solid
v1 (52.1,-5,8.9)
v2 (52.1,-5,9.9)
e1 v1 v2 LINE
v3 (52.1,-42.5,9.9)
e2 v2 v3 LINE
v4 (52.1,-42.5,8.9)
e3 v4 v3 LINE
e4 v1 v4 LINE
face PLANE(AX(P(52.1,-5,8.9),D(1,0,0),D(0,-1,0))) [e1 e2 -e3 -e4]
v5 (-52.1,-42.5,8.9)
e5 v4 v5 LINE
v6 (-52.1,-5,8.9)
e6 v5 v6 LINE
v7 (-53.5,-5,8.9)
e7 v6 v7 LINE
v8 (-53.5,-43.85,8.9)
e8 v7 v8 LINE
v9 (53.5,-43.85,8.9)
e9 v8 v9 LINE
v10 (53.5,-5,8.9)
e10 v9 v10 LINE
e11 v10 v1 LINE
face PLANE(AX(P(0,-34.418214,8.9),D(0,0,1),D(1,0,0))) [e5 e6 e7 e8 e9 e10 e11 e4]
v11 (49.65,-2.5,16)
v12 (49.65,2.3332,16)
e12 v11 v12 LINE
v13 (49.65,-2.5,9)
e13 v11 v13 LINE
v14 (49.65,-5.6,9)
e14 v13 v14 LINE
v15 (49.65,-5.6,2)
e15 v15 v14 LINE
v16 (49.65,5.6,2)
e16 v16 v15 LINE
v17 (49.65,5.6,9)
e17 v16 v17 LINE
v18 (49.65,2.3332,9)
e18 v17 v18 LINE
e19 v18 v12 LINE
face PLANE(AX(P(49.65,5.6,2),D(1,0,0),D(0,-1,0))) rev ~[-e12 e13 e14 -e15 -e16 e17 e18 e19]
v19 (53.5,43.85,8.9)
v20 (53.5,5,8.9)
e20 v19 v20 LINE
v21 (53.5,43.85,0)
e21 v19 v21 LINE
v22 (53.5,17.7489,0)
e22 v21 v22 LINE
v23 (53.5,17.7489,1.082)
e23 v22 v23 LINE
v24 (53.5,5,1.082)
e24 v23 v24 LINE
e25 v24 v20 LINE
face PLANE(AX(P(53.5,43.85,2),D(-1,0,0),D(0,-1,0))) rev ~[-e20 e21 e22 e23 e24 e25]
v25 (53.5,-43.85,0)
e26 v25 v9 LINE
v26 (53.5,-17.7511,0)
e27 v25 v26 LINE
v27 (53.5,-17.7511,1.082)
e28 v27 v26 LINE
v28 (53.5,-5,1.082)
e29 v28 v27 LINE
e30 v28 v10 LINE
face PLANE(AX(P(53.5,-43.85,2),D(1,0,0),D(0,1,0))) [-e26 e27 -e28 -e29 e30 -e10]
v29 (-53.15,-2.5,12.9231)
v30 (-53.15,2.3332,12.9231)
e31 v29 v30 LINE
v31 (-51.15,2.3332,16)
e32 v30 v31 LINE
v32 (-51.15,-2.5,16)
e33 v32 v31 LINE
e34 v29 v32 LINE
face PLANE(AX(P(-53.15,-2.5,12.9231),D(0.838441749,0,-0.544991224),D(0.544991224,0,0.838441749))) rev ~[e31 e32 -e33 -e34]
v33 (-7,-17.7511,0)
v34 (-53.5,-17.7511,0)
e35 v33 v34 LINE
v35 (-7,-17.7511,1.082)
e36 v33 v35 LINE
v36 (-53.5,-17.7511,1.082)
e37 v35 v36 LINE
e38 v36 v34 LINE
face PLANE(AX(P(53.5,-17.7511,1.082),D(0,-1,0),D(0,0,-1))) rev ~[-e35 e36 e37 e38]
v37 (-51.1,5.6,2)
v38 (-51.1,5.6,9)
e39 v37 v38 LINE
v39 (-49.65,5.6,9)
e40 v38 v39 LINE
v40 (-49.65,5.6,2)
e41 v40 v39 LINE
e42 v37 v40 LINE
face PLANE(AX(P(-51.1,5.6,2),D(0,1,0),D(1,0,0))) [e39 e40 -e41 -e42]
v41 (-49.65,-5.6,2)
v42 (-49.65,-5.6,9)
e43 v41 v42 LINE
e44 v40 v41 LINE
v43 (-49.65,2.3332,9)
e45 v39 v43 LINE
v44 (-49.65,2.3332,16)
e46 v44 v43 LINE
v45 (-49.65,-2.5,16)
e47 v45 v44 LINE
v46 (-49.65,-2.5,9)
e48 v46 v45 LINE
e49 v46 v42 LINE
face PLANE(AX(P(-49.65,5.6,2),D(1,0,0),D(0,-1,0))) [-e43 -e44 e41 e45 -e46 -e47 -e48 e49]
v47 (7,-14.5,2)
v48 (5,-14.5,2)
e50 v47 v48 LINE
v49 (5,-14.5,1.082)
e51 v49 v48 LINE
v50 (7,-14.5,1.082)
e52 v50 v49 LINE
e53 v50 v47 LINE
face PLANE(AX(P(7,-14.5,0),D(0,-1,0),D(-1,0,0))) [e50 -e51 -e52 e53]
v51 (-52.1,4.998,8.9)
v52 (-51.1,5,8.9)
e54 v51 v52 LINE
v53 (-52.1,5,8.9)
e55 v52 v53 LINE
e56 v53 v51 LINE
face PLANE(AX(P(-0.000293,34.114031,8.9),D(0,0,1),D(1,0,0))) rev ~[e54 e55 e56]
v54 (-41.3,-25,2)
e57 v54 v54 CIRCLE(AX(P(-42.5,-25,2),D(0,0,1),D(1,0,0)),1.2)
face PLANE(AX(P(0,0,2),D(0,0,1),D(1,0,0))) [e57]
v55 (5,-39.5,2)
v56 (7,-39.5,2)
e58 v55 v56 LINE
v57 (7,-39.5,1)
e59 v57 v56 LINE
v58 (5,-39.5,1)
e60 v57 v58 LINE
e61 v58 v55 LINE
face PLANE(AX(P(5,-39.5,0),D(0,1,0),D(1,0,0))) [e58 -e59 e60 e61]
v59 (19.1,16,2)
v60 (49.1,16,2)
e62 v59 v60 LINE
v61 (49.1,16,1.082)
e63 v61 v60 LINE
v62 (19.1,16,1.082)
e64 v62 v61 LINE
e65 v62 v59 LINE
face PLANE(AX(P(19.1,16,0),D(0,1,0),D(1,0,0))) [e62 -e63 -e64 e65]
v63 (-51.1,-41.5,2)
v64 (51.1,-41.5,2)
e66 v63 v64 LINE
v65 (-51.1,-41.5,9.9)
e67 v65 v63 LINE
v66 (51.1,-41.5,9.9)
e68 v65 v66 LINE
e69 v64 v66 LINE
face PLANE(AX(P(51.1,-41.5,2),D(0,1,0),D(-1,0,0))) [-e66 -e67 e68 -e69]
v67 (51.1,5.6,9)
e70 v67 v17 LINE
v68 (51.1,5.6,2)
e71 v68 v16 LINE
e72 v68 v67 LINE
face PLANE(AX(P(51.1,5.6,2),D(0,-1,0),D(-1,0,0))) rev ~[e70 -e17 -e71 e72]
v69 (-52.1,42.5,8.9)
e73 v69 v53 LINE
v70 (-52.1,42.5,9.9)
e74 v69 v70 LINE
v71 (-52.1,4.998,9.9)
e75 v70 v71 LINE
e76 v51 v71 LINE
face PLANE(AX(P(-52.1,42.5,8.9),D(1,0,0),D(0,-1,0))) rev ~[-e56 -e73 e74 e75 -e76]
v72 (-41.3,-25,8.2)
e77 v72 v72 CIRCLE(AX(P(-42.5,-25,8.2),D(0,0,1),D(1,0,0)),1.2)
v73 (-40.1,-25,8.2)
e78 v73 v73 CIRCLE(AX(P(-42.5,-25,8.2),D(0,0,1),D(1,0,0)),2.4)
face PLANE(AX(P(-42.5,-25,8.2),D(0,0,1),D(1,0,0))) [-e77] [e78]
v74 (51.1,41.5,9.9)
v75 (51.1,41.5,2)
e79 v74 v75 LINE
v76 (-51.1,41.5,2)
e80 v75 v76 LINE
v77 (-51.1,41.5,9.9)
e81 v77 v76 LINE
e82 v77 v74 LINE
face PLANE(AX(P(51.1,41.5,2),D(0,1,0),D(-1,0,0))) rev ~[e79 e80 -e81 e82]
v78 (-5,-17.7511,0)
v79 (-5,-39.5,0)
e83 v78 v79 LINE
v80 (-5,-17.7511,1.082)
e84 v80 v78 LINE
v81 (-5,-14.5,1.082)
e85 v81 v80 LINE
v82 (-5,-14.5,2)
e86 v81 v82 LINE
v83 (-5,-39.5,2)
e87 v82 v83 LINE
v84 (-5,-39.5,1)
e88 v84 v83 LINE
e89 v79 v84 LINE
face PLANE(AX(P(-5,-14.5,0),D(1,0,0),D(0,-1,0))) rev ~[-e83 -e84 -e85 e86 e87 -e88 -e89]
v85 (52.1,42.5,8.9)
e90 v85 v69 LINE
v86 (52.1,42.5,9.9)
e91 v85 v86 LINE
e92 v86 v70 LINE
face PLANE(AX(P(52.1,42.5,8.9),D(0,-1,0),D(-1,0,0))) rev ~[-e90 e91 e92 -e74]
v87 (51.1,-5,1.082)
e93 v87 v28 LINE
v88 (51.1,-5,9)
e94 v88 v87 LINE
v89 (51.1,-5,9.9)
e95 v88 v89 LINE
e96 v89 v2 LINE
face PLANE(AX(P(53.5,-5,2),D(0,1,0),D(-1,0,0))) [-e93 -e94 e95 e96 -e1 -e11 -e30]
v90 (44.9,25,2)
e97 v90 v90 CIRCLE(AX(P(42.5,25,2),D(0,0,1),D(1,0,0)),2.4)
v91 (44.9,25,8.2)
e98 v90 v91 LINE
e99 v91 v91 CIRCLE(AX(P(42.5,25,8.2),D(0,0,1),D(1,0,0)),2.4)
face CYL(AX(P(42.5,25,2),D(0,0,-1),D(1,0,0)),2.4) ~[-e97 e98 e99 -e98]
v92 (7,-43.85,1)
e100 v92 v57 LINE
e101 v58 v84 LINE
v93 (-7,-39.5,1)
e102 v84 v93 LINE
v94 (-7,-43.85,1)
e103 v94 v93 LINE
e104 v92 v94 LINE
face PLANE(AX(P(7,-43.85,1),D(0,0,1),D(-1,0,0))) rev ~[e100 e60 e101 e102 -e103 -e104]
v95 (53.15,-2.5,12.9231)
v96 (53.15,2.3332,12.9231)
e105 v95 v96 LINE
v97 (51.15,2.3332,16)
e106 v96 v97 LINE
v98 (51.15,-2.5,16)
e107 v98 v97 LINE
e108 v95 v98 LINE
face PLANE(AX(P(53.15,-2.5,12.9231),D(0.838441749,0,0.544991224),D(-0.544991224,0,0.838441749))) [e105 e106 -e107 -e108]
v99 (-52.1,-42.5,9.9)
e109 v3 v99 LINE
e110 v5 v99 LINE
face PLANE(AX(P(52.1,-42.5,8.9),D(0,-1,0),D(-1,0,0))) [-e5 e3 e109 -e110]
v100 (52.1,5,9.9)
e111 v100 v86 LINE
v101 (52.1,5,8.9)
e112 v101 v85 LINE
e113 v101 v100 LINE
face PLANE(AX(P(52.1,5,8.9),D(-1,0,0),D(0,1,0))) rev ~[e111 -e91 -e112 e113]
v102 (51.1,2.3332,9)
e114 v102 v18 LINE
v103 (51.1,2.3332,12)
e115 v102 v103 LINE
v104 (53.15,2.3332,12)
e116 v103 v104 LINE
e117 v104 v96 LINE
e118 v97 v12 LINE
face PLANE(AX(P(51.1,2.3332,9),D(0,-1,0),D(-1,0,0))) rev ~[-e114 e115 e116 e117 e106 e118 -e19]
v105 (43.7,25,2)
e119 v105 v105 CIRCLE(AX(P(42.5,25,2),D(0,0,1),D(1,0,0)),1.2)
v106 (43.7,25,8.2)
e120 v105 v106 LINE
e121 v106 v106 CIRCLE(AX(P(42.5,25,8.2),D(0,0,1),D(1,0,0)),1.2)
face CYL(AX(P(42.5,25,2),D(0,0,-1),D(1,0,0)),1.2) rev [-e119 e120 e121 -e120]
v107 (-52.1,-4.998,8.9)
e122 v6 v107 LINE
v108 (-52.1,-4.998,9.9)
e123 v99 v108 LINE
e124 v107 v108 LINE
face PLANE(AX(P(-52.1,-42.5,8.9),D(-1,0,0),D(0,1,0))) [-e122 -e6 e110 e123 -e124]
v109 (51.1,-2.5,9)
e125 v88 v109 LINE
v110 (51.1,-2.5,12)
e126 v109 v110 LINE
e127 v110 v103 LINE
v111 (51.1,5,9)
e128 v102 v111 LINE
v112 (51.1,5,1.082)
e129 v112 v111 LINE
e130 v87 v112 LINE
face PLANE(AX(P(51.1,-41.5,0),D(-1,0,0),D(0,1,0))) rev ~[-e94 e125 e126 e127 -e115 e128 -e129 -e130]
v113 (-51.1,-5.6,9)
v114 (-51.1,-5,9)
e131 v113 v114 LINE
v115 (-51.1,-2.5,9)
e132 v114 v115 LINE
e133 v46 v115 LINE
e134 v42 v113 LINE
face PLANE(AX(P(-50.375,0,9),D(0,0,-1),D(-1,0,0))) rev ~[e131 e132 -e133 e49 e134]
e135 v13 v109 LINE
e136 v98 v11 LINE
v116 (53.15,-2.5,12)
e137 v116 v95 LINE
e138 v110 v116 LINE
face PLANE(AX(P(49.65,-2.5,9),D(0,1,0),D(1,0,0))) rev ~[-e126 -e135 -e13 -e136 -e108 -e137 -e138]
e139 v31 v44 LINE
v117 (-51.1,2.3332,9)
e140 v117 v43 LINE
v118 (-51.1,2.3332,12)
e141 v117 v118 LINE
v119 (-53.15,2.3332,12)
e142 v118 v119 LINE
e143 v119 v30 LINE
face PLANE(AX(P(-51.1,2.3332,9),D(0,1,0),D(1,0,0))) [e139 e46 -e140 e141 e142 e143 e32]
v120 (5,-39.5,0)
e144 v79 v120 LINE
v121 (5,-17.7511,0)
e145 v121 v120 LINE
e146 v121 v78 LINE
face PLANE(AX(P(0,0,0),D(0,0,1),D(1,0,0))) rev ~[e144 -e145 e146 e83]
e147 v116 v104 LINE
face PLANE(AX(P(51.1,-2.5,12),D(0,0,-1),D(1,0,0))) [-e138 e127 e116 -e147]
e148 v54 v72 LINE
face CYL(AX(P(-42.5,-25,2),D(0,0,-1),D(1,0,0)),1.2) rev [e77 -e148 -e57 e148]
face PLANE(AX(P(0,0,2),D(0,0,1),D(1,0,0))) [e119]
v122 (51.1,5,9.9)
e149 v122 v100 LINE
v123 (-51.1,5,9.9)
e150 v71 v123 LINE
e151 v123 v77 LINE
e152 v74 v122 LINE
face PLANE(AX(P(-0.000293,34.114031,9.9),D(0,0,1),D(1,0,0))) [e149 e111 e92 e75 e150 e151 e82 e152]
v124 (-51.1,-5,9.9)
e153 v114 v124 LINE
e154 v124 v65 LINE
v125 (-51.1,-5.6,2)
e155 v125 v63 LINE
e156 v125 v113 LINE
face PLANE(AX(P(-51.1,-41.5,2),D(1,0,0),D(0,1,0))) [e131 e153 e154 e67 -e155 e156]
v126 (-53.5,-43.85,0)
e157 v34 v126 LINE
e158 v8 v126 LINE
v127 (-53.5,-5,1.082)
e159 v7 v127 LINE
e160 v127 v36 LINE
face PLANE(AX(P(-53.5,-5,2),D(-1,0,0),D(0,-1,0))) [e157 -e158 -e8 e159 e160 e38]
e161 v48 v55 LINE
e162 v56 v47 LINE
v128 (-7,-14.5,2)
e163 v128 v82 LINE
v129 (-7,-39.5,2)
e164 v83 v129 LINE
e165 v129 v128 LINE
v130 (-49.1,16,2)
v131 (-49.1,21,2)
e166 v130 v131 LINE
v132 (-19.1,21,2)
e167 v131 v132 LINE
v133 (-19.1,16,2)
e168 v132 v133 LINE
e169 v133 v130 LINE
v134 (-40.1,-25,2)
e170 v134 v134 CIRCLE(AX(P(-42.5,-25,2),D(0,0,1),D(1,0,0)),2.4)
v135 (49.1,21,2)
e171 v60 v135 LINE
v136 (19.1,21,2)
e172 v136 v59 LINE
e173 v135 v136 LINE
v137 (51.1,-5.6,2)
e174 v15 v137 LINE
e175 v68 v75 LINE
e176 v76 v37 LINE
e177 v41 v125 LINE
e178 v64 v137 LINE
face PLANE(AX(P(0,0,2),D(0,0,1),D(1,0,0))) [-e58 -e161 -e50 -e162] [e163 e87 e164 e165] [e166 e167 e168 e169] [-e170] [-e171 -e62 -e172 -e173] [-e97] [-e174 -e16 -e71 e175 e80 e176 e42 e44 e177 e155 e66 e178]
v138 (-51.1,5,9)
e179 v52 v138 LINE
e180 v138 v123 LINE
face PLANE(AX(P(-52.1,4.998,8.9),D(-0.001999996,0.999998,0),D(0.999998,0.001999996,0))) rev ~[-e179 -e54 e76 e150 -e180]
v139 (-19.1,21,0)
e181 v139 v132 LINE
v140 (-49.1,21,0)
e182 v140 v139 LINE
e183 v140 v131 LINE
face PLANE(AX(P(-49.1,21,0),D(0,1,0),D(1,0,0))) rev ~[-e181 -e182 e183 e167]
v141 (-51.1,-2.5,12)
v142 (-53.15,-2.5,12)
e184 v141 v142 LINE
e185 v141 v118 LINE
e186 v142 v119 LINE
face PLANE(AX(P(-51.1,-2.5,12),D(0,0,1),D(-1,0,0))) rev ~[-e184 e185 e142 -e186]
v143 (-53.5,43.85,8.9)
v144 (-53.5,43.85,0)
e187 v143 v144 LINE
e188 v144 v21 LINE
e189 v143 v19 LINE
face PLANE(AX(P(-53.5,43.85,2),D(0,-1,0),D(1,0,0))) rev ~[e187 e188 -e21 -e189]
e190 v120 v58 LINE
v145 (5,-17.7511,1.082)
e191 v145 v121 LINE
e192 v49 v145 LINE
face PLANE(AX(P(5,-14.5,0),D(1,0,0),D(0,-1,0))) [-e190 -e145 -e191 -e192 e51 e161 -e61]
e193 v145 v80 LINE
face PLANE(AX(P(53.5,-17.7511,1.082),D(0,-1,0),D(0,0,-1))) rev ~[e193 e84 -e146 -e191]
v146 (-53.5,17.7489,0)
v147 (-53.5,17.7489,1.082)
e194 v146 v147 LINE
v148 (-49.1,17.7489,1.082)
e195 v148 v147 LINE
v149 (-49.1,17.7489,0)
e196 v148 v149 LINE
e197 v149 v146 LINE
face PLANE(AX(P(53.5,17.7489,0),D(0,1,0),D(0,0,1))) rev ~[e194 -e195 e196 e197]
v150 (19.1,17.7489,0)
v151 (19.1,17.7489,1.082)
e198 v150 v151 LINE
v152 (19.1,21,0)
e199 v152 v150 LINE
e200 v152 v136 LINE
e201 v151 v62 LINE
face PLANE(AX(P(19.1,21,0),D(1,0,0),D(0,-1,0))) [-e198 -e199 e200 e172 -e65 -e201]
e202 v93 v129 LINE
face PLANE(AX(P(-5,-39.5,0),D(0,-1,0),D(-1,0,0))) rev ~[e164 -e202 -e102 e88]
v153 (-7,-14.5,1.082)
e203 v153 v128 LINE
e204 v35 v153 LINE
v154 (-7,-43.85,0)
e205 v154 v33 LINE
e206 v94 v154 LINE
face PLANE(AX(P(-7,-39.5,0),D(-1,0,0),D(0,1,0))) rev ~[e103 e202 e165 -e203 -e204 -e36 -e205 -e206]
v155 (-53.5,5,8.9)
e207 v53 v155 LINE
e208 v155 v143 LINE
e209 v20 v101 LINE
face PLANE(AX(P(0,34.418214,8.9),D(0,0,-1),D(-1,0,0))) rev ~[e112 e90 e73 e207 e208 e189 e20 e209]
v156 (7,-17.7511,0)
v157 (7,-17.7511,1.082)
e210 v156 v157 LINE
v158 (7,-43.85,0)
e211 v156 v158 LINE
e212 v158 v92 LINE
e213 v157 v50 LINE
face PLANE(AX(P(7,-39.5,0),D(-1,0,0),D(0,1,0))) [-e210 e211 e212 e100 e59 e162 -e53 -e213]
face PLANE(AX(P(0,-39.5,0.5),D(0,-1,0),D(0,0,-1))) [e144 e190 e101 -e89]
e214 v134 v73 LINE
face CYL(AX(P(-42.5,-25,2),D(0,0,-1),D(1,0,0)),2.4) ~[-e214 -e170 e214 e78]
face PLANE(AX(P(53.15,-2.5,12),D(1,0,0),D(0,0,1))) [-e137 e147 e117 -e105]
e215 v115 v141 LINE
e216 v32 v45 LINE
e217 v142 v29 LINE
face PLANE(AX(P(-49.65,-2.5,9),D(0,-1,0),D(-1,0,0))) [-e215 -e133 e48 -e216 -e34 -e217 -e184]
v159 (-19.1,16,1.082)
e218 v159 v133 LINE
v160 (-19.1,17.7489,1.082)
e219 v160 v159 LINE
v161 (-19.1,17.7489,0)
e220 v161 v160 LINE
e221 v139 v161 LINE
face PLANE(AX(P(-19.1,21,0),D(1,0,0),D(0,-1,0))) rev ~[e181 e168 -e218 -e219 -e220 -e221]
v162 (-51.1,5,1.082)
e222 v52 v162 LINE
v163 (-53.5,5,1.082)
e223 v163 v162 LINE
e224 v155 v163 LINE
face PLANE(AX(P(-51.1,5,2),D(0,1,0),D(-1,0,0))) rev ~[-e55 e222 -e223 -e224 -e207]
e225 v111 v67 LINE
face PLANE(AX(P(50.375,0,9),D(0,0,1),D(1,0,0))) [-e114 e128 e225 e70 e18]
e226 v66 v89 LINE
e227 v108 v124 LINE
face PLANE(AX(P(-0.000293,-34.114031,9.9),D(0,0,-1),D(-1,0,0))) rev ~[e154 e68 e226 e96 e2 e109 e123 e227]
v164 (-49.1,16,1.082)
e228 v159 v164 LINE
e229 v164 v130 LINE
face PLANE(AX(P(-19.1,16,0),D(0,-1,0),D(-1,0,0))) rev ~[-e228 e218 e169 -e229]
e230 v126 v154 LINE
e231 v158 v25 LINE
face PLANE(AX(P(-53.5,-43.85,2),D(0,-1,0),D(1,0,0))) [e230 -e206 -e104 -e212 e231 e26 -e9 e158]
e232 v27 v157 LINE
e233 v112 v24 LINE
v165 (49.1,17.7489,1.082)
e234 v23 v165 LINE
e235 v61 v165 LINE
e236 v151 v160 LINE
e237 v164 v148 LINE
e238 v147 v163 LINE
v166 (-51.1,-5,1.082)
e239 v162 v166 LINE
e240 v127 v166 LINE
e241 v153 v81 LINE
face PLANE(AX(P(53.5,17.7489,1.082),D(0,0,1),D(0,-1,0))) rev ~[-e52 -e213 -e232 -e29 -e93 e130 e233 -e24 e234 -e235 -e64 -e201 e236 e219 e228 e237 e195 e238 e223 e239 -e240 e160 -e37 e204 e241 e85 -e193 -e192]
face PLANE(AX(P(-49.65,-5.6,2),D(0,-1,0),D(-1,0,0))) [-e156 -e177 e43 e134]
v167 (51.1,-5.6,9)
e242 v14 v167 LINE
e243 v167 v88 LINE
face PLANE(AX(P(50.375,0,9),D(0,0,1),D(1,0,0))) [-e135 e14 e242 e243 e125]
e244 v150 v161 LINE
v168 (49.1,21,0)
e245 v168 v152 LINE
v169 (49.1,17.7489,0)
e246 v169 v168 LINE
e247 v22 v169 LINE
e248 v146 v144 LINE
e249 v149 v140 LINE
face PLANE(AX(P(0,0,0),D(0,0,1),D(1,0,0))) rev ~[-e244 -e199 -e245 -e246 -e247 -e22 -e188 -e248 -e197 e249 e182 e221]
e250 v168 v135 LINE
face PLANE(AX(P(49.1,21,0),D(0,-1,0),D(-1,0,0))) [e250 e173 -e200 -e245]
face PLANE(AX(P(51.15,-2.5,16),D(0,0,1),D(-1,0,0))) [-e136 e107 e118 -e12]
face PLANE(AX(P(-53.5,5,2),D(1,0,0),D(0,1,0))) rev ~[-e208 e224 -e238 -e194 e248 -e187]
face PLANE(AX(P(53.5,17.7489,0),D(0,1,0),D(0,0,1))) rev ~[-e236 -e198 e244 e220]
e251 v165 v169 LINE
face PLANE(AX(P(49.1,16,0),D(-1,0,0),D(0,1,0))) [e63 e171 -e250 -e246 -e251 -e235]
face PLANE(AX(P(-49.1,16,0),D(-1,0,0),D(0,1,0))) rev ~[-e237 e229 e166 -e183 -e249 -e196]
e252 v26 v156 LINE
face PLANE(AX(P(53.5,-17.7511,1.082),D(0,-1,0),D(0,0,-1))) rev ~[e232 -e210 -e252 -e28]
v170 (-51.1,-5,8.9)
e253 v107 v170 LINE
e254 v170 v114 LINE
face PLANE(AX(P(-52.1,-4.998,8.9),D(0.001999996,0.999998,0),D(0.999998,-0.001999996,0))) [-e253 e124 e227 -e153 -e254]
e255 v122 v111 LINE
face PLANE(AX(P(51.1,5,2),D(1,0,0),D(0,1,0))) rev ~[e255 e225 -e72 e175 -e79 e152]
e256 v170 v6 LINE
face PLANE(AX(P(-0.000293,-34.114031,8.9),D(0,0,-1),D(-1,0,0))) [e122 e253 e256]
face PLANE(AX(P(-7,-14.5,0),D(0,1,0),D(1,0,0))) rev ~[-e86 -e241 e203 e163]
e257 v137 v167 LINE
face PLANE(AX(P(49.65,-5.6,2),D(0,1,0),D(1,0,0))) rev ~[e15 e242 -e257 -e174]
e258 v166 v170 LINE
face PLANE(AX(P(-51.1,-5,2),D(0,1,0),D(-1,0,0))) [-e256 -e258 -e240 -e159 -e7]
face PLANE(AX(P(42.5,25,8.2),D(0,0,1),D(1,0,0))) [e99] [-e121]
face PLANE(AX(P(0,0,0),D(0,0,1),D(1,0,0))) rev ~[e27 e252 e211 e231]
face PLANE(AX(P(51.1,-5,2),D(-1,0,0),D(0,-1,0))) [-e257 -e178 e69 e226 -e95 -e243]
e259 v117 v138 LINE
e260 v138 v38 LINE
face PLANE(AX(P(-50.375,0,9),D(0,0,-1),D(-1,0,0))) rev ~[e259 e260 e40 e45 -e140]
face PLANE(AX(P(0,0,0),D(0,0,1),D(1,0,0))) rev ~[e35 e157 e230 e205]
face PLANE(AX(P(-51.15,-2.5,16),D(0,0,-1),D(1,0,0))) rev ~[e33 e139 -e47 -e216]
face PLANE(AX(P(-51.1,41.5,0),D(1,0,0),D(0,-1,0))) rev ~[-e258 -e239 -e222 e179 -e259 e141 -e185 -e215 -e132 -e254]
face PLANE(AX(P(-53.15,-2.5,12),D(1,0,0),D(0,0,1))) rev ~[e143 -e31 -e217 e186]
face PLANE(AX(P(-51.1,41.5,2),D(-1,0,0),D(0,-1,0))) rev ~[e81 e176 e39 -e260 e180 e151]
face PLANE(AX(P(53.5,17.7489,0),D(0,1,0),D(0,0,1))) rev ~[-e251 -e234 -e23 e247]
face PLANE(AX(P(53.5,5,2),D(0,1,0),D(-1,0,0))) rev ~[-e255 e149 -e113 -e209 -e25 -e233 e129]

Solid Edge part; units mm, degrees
sketch "Sketch1" plane through (0, 0, 0) normal (0, 0, 1) x (1, 0, 0)
  line L0 (49.1, 16) -> (49.1, 21)
  line L1 (49.1, 21) -> (19.1, 21)
  line L2 (19.1, 21) -> (19.1, 16)
  line L3 (19.1, 16) -> (49.1, 16)
  line L4 (5, -39.5) -> (7, -39.5)
  line L5 (7, -39.5) -> (7, -14.5)
  line L6 (7, -14.5) -> (5, -14.5)
  line L7 (5, -14.5) -> (5, -39.5)
  line L8 (51.1, 41.5) -> (-51.1, 41.5)
  line L9 (-51.1, 41.5) -> (-51.1, -41.5)
  line L10 (-51.1, -41.5) -> (51.1, -41.5)
  line L11 (51.1, -41.5) -> (51.1, 41.5)
  line L12 (-19.1, 16) -> (-49.1, 16)
  line L13 (-49.1, 16) -> (-49.1, 21)
  line L14 (-49.1, 21) -> (-19.1, 21)
  line L15 (-19.1, 21) -> (-19.1, 16)
  line L16 (-5, -39.5) -> (-7, -39.5)
  line L17 (-7, -39.5) -> (-7, -14.5)
  line L18 (-7, -14.5) -> (-5, -14.5)
  line L19 (-5, -14.5) -> (-5, -39.5)
  dimension "D1" = 30
  dimension "D2" = 2
  dimension "D3" = 5
  dimension "D4" = 16
  dimension "D5" = 2
  dimension "D6" = 25
  dimension "D7" = 2
  dimension "D8" = 5
extrude "Protrusion1" add sketch "Sketch1" along normal blind 2
sketch "Sketch2" plane through (0, 0, 2) normal (0, 0, 1) x (1, 0, 0)
  circle A0 centre (-42.5, -25) radius 1.2
  circle A1 centre (-42.5, -25) radius 2.4
  circle A2 centre (42.5, 25) radius 2.4
  circle A3 centre (42.5, 25) radius 1.2
  dimension "D1" = 2.4
  dimension "D2" = 25
  dimension "D3" = 42.5
  dimension "D4" = 25
  dimension "D5" = 42.5
  dimension "D6" = 2.4
  dimension "D7" = 4.8
extrude "ProtrusiónExtruida_2" add sketch "Sketch2" along normal blind 6.2
sketch "Sketch3" plane through (0, 0, 2) normal (0, 0, 1) x (1, 0, 0)
  line L0 (51.1, 41.5) -> (-51.1, 41.5)
  line L1 (-51.1, 41.5) -> (-51.1, 5)
  line L2 (-51.1, 5) -> (-53.5, 5)
  line L3 (-53.5, 5) -> (-53.5, 43.85)
  line L4 (-53.5, 43.85) -> (53.5, 43.85)
  line L5 (53.5, 43.85) -> (53.5, 5)
  line L6 (53.5, 5) -> (51.1, 5)
  line L7 (51.1, 5) -> (51.1, 41.5)
  line L8 (-53.5, -43.85) -> (53.5, -43.85)
  line L9 (53.5, -43.85) -> (53.5, -5)
  line L10 (53.5, -5) -> (51.1, -5)
  line L11 (51.1, -5) -> (51.1, -41.5)
  line L12 (51.1, -41.5) -> (-51.1, -41.5)
  line L13 (-51.1, -41.5) -> (-51.1, -5)
  line L14 (-51.1, -5) -> (-53.5, -5)
  line L15 (-53.5, -5) -> (-53.5, -43.85)
  dimension "D1" = 5
  dimension "D2" = 107
  dimension "D3" = 53.5
  dimension "D4" = 43.85
  dimension "D5" = 2.4
extrude "ProtrusiónExtruida_7" add sketch "Sketch3" against normal blind 2 and the other way blind 6.9
sketch "Sketch4" plane through (0, -24.425, 8.9) normal (0, 0, 1) x (1, 0, 0)
  line L0 (-51.1, 29.425) -> (-51.1, 65.925)
  line L1 (-51.1, 65.925) -> (51.1, 65.925)
  line L2 (51.1, 65.925) -> (51.1, 29.425)
  line L3 (51.1, 29.425) -> (52.1, 29.425)
  line L4 (52.1, 29.425) -> (52.1, 66.925)
  line L5 (52.1, 66.925) -> (-52.1, 66.925)
  line L6 (-52.1, 66.925) -> (-52.1, 29.423)
  line L7 (-52.1, 29.423) -> (-51.1, 29.425)
  line L8 (52.1, -18.075) -> (-52.1, -18.075)
  line L9 (-52.1, -18.075) -> (-52.1, 19.427)
  line L10 (-52.1, 19.427) -> (-51.1, 19.425)
  line L11 (-51.1, 19.425) -> (-51.1, -17.075)
  line L12 (-51.1, -17.075) -> (51.1, -17.075)
  line L13 (51.1, -17.075) -> (51.1, 19.425)
  line L14 (51.1, 19.425) -> (52.1, 19.425)
  line L15 (52.1, 19.425) -> (52.1, -18.075)
  dimension "D1" = 5
  dimension "D2" = 104.2
  dimension "D3" = 52.1
  dimension "D4" = 102.2
  dimension "D5" = 51.1
  dimension "D6" = 42.5
  dimension "D7" = 5
  dimension "D8" = 1
extrude "ProtrusiónExtruida_8" add sketch "Sketch4" along normal blind 1
sketch "Sketch5" plane through (0, 0, 2) normal (0, 0, 1) x (1, 0, 0)
  line L0 (-49.65, 5.6) -> (-49.65, -5.6)
  line L1 (-49.65, -5.6) -> (-51.1, -5.6)
  line L2 (-51.1, -5.6) -> (-51.1, 5.6)
  line L3 (-51.1, 5.6) -> (-49.65, 5.6)
  line L4 (49.65, 5.6) -> (49.65, -5.6)
  line L5 (49.65, -5.6) -> (51.1, -5.6)
  line L6 (51.1, -5.6) -> (51.1, 5.6)
  line L7 (51.1, 5.6) -> (49.65, 5.6)
  dimension "D1" = 11.2
  dimension "D2" = 1.45
  dimension "D3" = 5.6
  dimension "D4" = 51.1
extrude "ProtrusiónExtruida_9" add sketch "Sketch5" along normal blind 7
sketch "Sketch6" plane through (50.375, 0, 9) normal (0, 0, 1) x (0, 1, 0)
  line L0 (2.3332, 0.725) -> (-2.5, 0.725)
  line L1 (-2.5, 0.725) -> (-2.5, -0.725)
  line L2 (-2.5, -0.725) -> (2.3332, -0.725)
  line L3 (2.3332, -0.725) -> (2.3332, 0.725)
  line L4 (-2.5, 101.475) -> (2.3332, 101.475)
  line L5 (2.3332, 101.475) -> (2.3332, 100.025)
  line L6 (2.3332, 100.025) -> (-2.5, 100.025)
  line L7 (-2.5, 100.025) -> (-2.5, 101.475)
  dimension "D1" = 2.5
extrude "Protrusion2" add sketch "Sketch6" along normal blind 3
sketch "Sketch7" plane through (-50.375, -2.5, 14.95) normal (0, -1, 0) x (0, 0, 1)
  line L0 (1.05, -0.725) -> (-2.95, -0.725)
  line L1 (-2.95, -0.725) -> (-2.95, 0.725)
  line L2 (-2.95, 0.725) -> (-2.95, 2.775)
  line L3 (-2.95, 2.775) -> (-2.0269, 2.775)
  line L4 (-2.0269, 2.775) -> (1.05, 0.775)
  line L5 (1.05, 0.775) -> (1.05, -0.725)
extrude "Protrusion3" add sketch "Sketch7" against normal up to surface (4.8332 mm away)
sketch "Sketch8" plane through (-50.375, -2.5, 14.95) normal (0, -1, 0) x (0, 0, 1)
  line L0 (-2.95, -100.025) -> (-2.95, -101.475)
  line L1 (-2.95, -101.475) -> (-2.95, -103.525)
  line L2 (-2.95, -103.525) -> (-2.0269, -103.525)
  line L3 (-2.0269, -103.525) -> (1.05, -101.525)
  line L4 (1.05, -101.525) -> (1.05, -100.025)
  line L5 (1.05, -100.025) -> (-2.95, -100.025)
extrude "Protrusion4" add sketch "Sketch8" against normal up to surface (4.8332 mm away)
sketch "Sketch9" plane through (51.1, 0, 6) normal (1, 0, 0) x (0, 1, 0)
  line L0 (-17.7511, -6) -> (17.7489, -6)
  line L1 (17.7489, -6) -> (17.7489, -4.918)
  line L2 (17.7489, -4.918) -> (-17.7511, -4.918)
  line L3 (-17.7511, -4.918) -> (-17.7511, -6)
extrude "Cutout1" cut sketch "Sketch9" against normal up to surface (107 mm away) from surface at 2.4
sketch "Sketch10" plane through (0, -43.85, 4.45) normal (0, -1, 0) x (1, 0, 0)
  line L0 (7, -3.45) -> (-7, -3.45)
  line L1 (-7, -3.45) -> (-7, -4.45)
  line L2 (-7, -4.45) -> (7, -4.45)
  line L3 (7, -4.45) -> (7, -3.45)
extrude "Cutout2" cut sketch "Sketch10" against normal up to surface (4.35 mm away)
